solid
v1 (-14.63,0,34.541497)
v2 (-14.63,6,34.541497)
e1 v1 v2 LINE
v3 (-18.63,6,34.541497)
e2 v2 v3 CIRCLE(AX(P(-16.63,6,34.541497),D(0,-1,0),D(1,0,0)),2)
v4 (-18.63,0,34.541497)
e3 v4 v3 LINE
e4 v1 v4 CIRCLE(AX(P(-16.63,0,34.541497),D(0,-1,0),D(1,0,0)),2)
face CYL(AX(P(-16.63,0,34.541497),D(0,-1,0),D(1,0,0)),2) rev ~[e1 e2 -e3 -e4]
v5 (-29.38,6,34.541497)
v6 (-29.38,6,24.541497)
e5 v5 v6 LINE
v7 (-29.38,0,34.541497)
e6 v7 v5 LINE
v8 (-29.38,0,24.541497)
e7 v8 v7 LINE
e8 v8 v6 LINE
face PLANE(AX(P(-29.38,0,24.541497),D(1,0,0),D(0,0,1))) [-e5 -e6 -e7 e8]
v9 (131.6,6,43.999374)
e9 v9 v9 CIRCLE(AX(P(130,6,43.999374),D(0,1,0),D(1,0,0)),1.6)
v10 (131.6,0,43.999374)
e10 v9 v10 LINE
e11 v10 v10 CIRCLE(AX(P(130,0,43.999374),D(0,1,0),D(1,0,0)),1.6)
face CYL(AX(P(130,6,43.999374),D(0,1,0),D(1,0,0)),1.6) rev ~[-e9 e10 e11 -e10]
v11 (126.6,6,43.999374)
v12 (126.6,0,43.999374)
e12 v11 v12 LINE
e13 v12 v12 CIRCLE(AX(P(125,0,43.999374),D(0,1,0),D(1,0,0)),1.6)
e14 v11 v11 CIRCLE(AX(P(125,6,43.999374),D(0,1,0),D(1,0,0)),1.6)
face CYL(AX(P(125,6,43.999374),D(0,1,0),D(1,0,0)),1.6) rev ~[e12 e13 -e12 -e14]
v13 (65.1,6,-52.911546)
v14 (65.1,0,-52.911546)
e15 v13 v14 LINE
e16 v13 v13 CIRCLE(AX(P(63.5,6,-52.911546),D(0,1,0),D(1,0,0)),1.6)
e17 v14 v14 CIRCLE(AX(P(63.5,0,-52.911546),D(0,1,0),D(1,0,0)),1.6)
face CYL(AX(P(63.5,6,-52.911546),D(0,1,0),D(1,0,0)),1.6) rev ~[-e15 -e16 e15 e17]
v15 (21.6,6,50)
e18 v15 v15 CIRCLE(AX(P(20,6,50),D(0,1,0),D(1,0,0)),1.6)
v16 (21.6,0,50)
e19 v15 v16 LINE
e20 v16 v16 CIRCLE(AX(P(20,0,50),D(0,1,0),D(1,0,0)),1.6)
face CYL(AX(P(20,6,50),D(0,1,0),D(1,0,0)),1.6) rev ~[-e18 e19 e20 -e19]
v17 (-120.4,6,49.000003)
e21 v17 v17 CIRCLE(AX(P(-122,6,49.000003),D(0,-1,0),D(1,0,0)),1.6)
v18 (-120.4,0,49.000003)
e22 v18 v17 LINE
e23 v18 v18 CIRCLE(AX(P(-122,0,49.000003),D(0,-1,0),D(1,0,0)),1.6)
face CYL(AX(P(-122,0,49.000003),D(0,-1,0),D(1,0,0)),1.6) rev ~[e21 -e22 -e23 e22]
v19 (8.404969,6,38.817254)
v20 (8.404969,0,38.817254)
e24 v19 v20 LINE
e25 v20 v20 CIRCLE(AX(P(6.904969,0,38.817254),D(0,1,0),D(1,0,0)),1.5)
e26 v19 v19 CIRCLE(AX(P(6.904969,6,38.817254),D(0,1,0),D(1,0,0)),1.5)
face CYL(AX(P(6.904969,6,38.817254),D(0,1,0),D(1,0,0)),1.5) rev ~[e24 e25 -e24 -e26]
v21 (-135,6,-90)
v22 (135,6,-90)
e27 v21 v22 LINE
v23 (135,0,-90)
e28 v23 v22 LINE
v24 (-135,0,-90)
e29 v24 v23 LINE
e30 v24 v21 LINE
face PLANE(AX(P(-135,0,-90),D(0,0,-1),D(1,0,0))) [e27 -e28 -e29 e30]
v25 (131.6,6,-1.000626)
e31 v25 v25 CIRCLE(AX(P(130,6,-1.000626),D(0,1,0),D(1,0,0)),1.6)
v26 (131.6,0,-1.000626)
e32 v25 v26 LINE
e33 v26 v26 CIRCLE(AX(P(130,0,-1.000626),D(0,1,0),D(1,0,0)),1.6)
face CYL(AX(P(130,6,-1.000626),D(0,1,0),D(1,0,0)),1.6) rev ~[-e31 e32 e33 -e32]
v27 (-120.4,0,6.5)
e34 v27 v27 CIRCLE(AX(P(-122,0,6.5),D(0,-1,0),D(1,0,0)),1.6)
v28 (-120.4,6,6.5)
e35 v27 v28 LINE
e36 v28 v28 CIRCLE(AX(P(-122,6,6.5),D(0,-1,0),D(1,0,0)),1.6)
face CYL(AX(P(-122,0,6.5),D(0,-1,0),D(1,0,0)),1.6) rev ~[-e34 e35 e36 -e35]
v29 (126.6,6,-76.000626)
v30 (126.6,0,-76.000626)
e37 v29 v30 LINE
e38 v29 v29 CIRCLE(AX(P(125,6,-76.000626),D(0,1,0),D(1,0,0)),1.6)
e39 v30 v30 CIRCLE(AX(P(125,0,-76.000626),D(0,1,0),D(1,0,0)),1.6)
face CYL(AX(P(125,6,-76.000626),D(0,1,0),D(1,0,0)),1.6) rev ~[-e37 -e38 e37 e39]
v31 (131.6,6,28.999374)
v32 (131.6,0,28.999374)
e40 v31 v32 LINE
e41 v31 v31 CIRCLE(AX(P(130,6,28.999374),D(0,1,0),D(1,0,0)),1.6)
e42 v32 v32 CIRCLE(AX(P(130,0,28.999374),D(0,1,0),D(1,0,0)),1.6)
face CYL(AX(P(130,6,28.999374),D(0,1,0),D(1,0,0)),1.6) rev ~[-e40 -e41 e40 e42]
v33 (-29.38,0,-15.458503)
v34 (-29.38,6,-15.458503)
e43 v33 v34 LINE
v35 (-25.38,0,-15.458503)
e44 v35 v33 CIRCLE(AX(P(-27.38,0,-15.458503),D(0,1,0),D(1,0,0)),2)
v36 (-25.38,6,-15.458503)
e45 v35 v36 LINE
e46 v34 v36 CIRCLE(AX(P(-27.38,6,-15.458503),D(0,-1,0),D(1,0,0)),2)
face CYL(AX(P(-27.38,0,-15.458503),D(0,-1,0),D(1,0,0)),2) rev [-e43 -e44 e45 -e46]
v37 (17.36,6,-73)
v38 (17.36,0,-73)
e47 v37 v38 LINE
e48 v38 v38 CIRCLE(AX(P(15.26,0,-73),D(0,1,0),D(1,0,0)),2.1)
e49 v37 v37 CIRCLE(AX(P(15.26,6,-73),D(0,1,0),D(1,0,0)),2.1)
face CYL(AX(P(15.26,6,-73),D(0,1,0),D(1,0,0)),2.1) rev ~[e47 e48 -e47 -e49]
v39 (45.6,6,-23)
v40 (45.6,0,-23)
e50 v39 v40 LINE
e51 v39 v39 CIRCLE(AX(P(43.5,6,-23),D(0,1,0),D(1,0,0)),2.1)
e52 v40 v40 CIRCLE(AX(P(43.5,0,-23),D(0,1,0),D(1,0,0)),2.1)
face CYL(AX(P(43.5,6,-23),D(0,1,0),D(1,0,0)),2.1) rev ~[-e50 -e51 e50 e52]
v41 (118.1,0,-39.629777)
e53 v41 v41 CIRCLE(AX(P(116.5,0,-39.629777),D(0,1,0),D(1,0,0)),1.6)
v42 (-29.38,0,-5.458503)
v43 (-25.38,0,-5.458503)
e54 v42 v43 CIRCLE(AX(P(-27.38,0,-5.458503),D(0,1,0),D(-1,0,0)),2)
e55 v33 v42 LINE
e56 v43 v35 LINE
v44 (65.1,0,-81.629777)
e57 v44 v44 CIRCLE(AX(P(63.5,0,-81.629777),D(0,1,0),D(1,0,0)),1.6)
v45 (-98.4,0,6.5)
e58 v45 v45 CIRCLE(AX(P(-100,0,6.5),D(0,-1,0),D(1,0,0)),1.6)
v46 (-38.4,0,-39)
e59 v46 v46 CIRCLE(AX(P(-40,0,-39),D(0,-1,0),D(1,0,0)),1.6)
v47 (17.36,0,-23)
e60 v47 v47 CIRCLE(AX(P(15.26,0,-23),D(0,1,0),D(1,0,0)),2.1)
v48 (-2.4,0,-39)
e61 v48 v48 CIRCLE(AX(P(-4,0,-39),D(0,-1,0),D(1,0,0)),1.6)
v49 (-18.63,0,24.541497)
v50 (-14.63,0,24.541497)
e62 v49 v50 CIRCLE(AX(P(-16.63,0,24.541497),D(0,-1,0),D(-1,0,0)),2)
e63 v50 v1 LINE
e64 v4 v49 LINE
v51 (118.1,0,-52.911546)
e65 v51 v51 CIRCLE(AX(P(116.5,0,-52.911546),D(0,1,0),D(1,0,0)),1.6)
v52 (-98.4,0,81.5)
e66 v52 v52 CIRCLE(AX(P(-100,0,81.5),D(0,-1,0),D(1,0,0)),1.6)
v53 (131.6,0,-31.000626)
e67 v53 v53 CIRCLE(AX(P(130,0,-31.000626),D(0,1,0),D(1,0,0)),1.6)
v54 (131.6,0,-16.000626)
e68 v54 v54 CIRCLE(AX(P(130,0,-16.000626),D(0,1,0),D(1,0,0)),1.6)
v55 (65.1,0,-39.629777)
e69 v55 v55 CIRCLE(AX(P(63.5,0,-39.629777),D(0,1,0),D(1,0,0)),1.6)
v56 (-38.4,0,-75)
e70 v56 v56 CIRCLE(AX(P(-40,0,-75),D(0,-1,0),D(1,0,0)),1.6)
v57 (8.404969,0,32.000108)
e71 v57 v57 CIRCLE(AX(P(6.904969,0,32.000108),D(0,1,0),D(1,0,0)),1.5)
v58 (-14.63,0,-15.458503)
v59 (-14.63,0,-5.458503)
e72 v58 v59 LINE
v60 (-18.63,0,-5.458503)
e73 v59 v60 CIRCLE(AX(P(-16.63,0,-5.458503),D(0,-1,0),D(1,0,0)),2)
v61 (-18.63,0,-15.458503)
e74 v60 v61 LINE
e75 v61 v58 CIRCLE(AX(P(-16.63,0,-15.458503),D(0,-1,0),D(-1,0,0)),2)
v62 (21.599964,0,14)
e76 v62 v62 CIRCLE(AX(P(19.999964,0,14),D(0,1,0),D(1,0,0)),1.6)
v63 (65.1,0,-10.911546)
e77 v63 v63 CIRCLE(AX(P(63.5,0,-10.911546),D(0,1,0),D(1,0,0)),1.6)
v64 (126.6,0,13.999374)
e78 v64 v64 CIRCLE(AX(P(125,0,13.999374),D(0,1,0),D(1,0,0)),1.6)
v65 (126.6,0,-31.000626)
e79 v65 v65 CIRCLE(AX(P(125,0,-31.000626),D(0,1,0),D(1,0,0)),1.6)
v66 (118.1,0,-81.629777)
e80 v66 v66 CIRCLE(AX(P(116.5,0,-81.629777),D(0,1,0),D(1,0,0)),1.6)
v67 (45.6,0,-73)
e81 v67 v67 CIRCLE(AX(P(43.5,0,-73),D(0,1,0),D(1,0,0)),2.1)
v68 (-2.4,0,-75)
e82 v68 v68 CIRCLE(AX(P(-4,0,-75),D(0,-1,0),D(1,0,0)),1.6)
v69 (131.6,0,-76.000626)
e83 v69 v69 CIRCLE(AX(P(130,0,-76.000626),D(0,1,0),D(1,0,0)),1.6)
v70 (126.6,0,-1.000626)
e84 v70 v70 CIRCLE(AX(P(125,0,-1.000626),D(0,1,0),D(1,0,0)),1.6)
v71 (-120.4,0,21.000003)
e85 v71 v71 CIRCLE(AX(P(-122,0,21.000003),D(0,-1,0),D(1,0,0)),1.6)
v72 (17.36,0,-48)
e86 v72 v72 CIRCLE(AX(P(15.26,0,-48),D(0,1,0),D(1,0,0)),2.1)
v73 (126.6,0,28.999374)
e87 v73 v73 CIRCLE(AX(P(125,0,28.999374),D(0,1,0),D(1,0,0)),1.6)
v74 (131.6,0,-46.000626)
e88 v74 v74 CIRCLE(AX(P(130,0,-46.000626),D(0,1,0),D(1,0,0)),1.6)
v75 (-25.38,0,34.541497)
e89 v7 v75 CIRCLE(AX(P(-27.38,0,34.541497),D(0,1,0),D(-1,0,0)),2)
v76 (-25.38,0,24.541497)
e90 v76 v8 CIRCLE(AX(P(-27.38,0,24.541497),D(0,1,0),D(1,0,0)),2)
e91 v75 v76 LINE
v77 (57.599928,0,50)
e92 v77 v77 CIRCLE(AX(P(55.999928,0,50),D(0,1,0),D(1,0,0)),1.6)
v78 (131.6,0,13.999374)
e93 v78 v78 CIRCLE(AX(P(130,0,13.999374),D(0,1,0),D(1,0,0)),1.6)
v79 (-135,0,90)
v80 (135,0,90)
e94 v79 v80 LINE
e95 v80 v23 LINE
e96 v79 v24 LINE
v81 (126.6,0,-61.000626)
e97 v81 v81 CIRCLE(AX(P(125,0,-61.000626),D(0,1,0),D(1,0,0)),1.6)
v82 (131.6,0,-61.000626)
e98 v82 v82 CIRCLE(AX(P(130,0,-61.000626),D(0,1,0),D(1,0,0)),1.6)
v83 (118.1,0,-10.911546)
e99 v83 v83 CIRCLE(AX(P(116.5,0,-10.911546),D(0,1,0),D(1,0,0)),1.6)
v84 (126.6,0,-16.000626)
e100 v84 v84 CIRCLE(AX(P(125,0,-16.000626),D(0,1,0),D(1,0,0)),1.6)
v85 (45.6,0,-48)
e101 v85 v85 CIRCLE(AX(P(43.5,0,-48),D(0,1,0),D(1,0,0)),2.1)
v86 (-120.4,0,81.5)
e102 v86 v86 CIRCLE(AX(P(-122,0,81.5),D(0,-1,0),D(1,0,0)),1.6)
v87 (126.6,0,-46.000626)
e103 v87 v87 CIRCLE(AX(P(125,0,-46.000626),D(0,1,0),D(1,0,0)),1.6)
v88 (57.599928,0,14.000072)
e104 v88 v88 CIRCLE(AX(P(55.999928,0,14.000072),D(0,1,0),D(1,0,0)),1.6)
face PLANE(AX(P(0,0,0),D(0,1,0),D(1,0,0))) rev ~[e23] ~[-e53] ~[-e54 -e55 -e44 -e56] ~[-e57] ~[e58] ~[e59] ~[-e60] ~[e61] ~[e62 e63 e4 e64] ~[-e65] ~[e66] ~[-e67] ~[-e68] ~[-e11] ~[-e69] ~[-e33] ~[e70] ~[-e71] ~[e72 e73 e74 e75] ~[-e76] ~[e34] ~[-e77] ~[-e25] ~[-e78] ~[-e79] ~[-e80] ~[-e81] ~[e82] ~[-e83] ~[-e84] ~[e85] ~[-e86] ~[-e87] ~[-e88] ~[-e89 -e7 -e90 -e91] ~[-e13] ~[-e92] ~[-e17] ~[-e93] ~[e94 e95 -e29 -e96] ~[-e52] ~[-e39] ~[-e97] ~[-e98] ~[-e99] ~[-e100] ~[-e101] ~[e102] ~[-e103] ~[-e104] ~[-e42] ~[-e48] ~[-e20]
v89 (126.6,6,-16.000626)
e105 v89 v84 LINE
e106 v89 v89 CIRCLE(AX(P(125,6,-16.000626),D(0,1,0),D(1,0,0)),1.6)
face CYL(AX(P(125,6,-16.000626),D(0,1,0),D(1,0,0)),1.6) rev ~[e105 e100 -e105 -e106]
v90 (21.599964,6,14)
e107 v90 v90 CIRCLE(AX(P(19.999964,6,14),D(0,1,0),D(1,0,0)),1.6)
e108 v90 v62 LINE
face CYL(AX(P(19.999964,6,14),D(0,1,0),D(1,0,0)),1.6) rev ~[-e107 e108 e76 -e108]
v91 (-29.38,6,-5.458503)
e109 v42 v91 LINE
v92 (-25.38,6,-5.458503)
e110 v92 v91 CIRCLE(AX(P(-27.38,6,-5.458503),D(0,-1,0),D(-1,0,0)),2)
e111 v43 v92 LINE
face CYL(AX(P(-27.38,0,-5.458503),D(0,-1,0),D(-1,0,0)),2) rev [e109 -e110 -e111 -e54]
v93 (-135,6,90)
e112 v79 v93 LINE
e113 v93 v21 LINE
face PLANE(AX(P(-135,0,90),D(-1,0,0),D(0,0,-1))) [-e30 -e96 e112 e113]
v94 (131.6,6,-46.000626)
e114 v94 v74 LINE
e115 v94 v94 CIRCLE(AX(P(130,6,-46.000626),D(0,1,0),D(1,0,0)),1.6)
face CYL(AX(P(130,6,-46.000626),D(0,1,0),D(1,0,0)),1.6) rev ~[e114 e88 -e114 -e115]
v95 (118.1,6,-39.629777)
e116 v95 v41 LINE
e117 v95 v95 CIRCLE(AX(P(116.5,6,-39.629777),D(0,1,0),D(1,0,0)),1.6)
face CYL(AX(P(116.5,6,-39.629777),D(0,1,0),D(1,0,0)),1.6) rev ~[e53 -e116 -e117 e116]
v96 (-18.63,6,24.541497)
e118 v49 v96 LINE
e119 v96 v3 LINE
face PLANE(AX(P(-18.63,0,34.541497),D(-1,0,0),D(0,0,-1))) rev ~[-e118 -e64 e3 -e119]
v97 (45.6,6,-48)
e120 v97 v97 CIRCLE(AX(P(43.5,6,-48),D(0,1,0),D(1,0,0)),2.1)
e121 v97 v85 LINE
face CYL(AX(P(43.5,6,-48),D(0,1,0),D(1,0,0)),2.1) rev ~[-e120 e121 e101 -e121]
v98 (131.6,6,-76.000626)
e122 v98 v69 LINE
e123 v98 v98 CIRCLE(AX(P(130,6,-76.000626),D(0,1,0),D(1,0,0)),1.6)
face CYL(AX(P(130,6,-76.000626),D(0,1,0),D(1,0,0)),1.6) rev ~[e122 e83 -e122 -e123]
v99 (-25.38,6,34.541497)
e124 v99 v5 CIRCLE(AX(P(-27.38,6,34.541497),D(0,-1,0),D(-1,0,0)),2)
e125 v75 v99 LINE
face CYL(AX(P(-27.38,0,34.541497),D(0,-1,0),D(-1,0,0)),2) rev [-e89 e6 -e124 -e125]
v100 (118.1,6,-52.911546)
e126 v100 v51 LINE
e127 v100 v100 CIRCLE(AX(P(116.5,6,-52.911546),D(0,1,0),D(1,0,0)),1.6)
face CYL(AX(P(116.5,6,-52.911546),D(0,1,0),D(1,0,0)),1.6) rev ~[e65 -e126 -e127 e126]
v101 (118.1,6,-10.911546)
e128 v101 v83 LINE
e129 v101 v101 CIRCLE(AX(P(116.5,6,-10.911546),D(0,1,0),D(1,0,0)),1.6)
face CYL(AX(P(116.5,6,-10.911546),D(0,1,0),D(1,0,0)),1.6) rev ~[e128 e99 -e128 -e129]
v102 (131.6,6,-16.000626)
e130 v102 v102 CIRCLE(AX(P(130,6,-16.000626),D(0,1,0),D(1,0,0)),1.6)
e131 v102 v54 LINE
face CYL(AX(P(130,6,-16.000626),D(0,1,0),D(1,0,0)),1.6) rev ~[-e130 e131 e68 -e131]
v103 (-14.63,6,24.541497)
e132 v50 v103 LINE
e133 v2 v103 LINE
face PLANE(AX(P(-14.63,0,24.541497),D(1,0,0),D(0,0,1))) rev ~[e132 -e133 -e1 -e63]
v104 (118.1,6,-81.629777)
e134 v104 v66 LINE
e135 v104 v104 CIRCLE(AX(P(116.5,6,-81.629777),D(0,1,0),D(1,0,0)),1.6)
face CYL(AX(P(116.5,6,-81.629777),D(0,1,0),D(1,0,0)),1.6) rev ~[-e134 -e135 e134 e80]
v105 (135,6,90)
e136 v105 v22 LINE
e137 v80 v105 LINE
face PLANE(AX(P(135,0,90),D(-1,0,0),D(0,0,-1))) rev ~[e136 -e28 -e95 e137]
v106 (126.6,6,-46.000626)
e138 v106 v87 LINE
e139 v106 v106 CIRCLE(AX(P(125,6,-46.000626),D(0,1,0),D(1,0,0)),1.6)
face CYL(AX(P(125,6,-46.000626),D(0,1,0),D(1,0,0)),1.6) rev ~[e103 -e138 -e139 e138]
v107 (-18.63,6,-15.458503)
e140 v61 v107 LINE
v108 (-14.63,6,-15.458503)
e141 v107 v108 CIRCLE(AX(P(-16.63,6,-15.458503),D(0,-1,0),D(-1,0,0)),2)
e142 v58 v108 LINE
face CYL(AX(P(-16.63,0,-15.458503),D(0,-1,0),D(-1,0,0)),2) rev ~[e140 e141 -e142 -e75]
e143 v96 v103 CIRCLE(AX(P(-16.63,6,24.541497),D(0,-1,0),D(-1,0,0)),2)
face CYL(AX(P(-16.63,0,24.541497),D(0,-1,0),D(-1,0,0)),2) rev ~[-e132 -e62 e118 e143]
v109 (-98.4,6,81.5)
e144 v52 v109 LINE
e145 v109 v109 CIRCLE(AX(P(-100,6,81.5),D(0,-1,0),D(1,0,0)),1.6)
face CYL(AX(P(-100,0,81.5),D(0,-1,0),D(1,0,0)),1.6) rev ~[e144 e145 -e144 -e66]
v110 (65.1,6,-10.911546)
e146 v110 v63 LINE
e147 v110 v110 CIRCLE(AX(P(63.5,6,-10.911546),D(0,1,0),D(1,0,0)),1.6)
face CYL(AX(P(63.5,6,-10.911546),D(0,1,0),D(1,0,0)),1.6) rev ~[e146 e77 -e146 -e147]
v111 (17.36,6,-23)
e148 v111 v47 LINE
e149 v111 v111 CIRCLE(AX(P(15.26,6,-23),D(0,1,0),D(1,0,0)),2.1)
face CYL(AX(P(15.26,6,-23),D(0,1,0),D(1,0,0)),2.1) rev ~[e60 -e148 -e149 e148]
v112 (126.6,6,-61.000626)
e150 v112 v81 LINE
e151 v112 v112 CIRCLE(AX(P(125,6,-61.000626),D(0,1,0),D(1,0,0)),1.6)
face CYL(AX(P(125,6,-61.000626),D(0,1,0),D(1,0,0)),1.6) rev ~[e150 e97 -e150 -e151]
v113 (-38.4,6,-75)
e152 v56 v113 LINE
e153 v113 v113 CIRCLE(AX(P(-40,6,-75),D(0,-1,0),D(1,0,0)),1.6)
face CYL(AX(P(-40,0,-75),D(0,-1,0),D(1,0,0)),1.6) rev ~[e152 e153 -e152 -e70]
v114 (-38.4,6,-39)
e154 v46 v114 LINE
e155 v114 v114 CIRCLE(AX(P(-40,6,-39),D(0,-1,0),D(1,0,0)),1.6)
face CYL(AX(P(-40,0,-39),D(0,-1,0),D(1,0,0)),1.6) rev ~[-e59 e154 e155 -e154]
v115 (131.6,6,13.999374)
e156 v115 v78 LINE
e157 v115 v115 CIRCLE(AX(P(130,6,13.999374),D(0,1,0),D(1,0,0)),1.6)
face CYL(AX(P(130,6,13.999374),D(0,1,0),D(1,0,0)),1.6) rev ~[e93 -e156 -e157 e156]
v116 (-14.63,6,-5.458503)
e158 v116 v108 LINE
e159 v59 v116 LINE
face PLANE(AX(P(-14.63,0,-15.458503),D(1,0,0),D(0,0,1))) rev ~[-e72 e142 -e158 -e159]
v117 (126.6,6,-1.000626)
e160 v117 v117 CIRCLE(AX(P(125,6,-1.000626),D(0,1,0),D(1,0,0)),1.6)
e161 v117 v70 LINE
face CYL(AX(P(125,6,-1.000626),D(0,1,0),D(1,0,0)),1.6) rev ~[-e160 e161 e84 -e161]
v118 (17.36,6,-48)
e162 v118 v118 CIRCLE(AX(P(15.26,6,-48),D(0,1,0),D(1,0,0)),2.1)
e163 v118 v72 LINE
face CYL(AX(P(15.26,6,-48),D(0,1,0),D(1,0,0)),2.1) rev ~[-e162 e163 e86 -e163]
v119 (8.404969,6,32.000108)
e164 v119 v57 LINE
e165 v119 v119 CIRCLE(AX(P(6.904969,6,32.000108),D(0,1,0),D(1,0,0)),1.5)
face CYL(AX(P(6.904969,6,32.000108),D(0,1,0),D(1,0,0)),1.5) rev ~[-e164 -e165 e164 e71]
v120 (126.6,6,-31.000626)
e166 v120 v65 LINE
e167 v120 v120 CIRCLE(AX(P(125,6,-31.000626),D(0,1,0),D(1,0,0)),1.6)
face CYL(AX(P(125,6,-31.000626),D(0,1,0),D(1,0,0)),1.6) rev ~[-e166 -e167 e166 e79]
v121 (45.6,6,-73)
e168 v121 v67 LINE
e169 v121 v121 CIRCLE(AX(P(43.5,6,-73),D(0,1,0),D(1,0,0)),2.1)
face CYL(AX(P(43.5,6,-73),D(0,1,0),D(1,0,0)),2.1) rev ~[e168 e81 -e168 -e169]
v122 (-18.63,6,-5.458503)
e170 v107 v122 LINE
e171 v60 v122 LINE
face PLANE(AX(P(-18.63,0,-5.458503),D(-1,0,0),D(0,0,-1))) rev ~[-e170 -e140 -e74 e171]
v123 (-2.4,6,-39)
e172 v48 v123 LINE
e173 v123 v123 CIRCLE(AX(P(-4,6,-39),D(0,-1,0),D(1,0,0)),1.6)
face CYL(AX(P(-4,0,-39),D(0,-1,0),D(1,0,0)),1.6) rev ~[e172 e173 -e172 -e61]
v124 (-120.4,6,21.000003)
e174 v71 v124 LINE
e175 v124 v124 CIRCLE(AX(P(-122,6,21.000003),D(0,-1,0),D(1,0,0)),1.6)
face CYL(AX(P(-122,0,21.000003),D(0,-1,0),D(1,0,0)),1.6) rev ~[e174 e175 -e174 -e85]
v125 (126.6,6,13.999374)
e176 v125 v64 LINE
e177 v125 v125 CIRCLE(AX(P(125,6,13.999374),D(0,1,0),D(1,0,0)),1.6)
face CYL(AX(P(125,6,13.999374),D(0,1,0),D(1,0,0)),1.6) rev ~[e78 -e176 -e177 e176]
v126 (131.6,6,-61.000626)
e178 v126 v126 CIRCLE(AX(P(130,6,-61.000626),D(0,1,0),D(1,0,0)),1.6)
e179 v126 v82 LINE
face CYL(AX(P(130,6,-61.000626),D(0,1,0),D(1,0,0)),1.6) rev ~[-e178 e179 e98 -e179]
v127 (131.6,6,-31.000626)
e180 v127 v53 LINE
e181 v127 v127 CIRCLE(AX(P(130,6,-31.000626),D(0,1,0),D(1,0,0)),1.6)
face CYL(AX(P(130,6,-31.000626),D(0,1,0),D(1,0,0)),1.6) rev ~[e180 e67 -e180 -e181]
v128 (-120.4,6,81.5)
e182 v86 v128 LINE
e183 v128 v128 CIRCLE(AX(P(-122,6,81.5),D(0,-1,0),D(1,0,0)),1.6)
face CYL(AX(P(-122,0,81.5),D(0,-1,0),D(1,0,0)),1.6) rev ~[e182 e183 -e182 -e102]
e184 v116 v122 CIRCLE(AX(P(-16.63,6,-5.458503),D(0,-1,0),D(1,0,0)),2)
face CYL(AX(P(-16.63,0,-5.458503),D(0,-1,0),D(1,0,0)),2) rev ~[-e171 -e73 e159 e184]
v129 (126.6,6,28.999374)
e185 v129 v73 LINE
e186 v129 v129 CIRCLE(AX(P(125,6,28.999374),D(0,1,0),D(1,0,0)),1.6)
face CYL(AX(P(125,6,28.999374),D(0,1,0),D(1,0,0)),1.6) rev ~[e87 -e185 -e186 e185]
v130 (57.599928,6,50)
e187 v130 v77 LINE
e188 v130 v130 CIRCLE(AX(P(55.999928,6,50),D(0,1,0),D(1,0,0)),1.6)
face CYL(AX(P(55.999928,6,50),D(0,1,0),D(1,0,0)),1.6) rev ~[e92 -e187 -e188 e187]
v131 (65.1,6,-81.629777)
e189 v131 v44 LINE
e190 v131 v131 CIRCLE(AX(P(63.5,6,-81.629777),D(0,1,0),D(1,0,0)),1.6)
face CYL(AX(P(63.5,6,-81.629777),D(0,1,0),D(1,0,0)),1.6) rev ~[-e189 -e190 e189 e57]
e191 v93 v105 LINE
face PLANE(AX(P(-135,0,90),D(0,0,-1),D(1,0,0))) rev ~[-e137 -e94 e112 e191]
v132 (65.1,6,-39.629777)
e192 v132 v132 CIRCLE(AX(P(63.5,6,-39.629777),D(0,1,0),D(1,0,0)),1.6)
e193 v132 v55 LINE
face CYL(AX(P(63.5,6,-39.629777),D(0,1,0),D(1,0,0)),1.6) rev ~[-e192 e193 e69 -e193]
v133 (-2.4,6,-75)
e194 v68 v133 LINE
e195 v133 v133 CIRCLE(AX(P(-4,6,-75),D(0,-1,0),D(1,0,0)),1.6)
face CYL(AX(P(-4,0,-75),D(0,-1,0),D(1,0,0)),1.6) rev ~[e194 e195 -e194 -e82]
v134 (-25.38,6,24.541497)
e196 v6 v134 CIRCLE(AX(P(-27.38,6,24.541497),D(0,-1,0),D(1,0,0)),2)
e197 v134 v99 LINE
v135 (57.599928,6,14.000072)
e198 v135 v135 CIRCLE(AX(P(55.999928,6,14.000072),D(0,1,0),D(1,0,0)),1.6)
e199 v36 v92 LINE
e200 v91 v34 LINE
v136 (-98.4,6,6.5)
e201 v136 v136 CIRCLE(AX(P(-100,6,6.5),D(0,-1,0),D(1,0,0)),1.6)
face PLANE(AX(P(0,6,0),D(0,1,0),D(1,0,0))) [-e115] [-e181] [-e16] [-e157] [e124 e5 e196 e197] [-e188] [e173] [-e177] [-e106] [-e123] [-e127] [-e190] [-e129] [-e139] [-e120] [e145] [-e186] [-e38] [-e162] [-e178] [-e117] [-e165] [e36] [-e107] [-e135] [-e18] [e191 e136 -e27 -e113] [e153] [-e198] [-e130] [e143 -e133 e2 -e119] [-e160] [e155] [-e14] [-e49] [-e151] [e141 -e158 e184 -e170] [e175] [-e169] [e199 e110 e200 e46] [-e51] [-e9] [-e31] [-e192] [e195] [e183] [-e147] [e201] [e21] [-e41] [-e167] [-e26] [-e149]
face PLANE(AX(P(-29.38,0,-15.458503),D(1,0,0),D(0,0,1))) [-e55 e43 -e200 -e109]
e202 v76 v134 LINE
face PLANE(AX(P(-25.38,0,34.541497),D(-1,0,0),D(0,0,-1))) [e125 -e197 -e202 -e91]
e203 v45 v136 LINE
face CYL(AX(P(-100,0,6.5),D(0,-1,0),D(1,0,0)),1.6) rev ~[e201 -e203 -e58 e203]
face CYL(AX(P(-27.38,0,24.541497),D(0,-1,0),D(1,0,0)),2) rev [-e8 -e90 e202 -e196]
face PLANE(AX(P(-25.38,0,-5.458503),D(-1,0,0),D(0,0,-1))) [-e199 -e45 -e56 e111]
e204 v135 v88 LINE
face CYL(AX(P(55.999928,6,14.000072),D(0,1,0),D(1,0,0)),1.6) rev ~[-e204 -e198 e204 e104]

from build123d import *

# Parameters (mm, degrees)
SKETCH1_W           = 270
SKETCH1_H           = 180
BOSS_EXTRUDE1_DEPTH = 6
SKETCH2_R           = 1.6
CUT_EXTRUDE1_DEPTH  = 7
SKETCH3_R           = 1.6
CUT_EXTRUDE2_DEPTH  = 10
SKETCH4_R           = 1.6
SKETCH4_R_2         = 1.5
CUT_EXTRUDE3_DEPTH  = 7
SKETCH5_R           = 1.6
CUT_EXTRUDE4_DEPTH  = 10
SKETCH6_R           = 2.1
CUT_EXTRUDE5_DEPTH  = 10


with BuildPart() as part:
    # Sketch1 → Boss-Extrude1 (new body)
    with BuildSketch(Plane(origin=(0, 0, 0), x_dir=(1, 0, 0), z_dir=(0, 1, 0))):
        Rectangle(SKETCH1_W, SKETCH1_H)
    extrude(amount=BOSS_EXTRUDE1_DEPTH)

    # Sketch2 → Cut-Extrude1 (cut, through all)
    with BuildSketch(Plane.XZ):
        with Locations((-122, 81.5)):
            Circle(SKETCH2_R)
        with Locations((-100.000000181, 81.5)):
            Circle(SKETCH2_R)
        with Locations((-122, 6.500000003)):
            Circle(SKETCH2_R)
        with Locations((-100.000000181, 6.500000003)):
            Circle(SKETCH2_R)
        with Locations((-122, 21.000003407)):
            Circle(SKETCH2_R)
        with Locations((-122, 49.000003407)):
            Circle(SKETCH2_R)
    extrude(amount=-CUT_EXTRUDE1_DEPTH, mode=Mode.SUBTRACT)

    # Sketch3 → Cut-Extrude2 (cut)
    with BuildSketch(Plane.XZ):
        with Locations((-40, -39)):
            Circle(SKETCH3_R)
        with Locations((-40, -75)):
            Circle(SKETCH3_R)
        with Locations((-4, -75)):
            Circle(SKETCH3_R)
        with Locations((-4, -39)):
            Circle(SKETCH3_R)
        with BuildLine():
            Line((-29.38, -15.458502607), (-29.38, -5.458502607))
            ThreePointArc((-29.38, -5.458502607), (-27.38, -3.458502607), (-25.38, -5.458502607))
            Line((-25.38, -5.458502607), (-25.38, -15.458502607))
            ThreePointArc((-25.38, -15.458502607), (-27.38, -17.458502607), (-29.38, -15.458502607))
        make_face()
        with BuildLine():
            Line((-14.63, -15.458502607), (-14.63, -5.458502607))
            ThreePointArc((-14.63, -5.458502607), (-16.63, -3.458502607), (-18.63, -5.458502607))
            Line((-18.63, -5.458502607), (-18.63, -15.458502607))
            ThreePointArc((-18.63, -15.458502607), (-16.63, -17.458502607), (-14.63, -15.458502607))
        make_face()
        with BuildLine():
            Line((-29.38, 24.541497393), (-29.38, 34.541497393))
            ThreePointArc((-29.38, 34.541497393), (-27.38, 36.541497393), (-25.38, 34.541497393))
            Line((-25.38, 34.541497393), (-25.38, 24.541497393))
            ThreePointArc((-25.38, 24.541497393), (-27.38, 22.541497393), (-29.38, 24.541497393))
        make_face()
        with BuildLine():
            Line((-14.63, 24.541497393), (-14.63, 34.541497393))
            ThreePointArc((-14.63, 34.541497393), (-16.63, 36.541497393), (-18.63, 34.541497393))
            Line((-18.63, 34.541497393), (-18.63, 24.541497393))
            ThreePointArc((-18.63, 24.541497393), (-16.63, 22.541497393), (-14.63, 24.541497393))
        make_face()
    extrude(amount=-CUT_EXTRUDE2_DEPTH, mode=Mode.SUBTRACT)

    # Sketch4 → Cut-Extrude3 (cut, through all)
    with BuildSketch(Plane(origin=(0, 6, 0), x_dir=(1, 0, 0), z_dir=(0, 1, 0))):
        with Locations((19.999964, -14)):
            Circle(SKETCH4_R)
        with Locations((55.999928, -14.000072)):
            Circle(SKETCH4_R)
        with Locations((20, -50)):
            Circle(SKETCH4_R)
        with Locations((55.999928, -50)):
            Circle(SKETCH4_R)
        with Locations((6.904969305, -32.000108)):
            Circle(SKETCH4_R_2)
        with Locations((6.904969305, -38.817254)):
            Circle(SKETCH4_R_2)
    extrude(amount=-CUT_EXTRUDE3_DEPTH, mode=Mode.SUBTRACT)

    # Sketch5 → Cut-Extrude4 (cut)
    with BuildSketch(Plane(origin=(0, 6, 0), x_dir=(1, 0, 0), z_dir=(0, 1, 0))):
        with Locations((116.5, 10.91154574)):
            Circle(SKETCH5_R)
        with Locations((63.5, 10.91154574)):
            Circle(SKETCH5_R)
        with Locations((116.5, 39.629776512)):
            Circle(SKETCH5_R)
        with Locations((63.5, 39.629776512)):
            Circle(SKETCH5_R)
        with Locations((116.5, 52.91154574)):
            Circle(SKETCH5_R)
        with Locations((63.5, 52.91154574)):
            Circle(SKETCH5_R)
        with Locations((116.5, 81.629776512)):
            Circle(SKETCH5_R)
        with Locations((63.5, 81.629776512)):
            Circle(SKETCH5_R)
        with Locations((125, 76.00062614)):
            Circle(SKETCH5_R)
        with Locations((130, 76.00062614)):
            Circle(SKETCH5_R)
        with Locations((125, 61.00062614)):
            Circle(SKETCH5_R)
        with Locations((130, 61.00062614)):
            Circle(SKETCH5_R)
        with Locations((125, 46.00062614)):
            Circle(SKETCH5_R)
        with Locations((130, 46.00062614)):
            Circle(SKETCH5_R)
        with Locations((125, 31.00062614)):
            Circle(SKETCH5_R)
        with Locations((130, 31.00062614)):
            Circle(SKETCH5_R)
        with Locations((125, 16.00062614)):
            Circle(SKETCH5_R)
        with Locations((130, 16.00062614)):
            Circle(SKETCH5_R)
        with Locations((125, 1.00062614)):
            Circle(SKETCH5_R)
        with Locations((130, 1.00062614)):
            Circle(SKETCH5_R)
        with Locations((125, -13.99937386)):
            Circle(SKETCH5_R)
        with Locations((130, -13.99937386)):
            Circle(SKETCH5_R)
        with Locations((125, -28.99937386)):
            Circle(SKETCH5_R)
        with Locations((130, -28.99937386)):
            Circle(SKETCH5_R)
        with Locations((125, -43.99937386)):
            Circle(SKETCH5_R)
        with Locations((130, -43.99937386)):
            Circle(SKETCH5_R)
    extrude(amount=-CUT_EXTRUDE4_DEPTH, mode=Mode.SUBTRACT)

    # Sketch6 → Cut-Extrude5 (cut)
    with BuildSketch(Plane(origin=(0, 6, 0), x_dir=(1, 0, 0), z_dir=(0, 1, 0))):
        with Locations((15.26, 73)):
            Circle(SKETCH6_R)
        with Locations((43.5, 73)):
            Circle(SKETCH6_R)
        with Locations((15.26, 48)):
            Circle(SKETCH6_R)
        with Locations((43.5, 48)):
            Circle(SKETCH6_R)
        with Locations((15.26, 23)):
            Circle(SKETCH6_R)
        with Locations((43.5, 23)):
            Circle(SKETCH6_R)
    extrude(amount=-CUT_EXTRUDE5_DEPTH, mode=Mode.SUBTRACT)


solid = part.part
